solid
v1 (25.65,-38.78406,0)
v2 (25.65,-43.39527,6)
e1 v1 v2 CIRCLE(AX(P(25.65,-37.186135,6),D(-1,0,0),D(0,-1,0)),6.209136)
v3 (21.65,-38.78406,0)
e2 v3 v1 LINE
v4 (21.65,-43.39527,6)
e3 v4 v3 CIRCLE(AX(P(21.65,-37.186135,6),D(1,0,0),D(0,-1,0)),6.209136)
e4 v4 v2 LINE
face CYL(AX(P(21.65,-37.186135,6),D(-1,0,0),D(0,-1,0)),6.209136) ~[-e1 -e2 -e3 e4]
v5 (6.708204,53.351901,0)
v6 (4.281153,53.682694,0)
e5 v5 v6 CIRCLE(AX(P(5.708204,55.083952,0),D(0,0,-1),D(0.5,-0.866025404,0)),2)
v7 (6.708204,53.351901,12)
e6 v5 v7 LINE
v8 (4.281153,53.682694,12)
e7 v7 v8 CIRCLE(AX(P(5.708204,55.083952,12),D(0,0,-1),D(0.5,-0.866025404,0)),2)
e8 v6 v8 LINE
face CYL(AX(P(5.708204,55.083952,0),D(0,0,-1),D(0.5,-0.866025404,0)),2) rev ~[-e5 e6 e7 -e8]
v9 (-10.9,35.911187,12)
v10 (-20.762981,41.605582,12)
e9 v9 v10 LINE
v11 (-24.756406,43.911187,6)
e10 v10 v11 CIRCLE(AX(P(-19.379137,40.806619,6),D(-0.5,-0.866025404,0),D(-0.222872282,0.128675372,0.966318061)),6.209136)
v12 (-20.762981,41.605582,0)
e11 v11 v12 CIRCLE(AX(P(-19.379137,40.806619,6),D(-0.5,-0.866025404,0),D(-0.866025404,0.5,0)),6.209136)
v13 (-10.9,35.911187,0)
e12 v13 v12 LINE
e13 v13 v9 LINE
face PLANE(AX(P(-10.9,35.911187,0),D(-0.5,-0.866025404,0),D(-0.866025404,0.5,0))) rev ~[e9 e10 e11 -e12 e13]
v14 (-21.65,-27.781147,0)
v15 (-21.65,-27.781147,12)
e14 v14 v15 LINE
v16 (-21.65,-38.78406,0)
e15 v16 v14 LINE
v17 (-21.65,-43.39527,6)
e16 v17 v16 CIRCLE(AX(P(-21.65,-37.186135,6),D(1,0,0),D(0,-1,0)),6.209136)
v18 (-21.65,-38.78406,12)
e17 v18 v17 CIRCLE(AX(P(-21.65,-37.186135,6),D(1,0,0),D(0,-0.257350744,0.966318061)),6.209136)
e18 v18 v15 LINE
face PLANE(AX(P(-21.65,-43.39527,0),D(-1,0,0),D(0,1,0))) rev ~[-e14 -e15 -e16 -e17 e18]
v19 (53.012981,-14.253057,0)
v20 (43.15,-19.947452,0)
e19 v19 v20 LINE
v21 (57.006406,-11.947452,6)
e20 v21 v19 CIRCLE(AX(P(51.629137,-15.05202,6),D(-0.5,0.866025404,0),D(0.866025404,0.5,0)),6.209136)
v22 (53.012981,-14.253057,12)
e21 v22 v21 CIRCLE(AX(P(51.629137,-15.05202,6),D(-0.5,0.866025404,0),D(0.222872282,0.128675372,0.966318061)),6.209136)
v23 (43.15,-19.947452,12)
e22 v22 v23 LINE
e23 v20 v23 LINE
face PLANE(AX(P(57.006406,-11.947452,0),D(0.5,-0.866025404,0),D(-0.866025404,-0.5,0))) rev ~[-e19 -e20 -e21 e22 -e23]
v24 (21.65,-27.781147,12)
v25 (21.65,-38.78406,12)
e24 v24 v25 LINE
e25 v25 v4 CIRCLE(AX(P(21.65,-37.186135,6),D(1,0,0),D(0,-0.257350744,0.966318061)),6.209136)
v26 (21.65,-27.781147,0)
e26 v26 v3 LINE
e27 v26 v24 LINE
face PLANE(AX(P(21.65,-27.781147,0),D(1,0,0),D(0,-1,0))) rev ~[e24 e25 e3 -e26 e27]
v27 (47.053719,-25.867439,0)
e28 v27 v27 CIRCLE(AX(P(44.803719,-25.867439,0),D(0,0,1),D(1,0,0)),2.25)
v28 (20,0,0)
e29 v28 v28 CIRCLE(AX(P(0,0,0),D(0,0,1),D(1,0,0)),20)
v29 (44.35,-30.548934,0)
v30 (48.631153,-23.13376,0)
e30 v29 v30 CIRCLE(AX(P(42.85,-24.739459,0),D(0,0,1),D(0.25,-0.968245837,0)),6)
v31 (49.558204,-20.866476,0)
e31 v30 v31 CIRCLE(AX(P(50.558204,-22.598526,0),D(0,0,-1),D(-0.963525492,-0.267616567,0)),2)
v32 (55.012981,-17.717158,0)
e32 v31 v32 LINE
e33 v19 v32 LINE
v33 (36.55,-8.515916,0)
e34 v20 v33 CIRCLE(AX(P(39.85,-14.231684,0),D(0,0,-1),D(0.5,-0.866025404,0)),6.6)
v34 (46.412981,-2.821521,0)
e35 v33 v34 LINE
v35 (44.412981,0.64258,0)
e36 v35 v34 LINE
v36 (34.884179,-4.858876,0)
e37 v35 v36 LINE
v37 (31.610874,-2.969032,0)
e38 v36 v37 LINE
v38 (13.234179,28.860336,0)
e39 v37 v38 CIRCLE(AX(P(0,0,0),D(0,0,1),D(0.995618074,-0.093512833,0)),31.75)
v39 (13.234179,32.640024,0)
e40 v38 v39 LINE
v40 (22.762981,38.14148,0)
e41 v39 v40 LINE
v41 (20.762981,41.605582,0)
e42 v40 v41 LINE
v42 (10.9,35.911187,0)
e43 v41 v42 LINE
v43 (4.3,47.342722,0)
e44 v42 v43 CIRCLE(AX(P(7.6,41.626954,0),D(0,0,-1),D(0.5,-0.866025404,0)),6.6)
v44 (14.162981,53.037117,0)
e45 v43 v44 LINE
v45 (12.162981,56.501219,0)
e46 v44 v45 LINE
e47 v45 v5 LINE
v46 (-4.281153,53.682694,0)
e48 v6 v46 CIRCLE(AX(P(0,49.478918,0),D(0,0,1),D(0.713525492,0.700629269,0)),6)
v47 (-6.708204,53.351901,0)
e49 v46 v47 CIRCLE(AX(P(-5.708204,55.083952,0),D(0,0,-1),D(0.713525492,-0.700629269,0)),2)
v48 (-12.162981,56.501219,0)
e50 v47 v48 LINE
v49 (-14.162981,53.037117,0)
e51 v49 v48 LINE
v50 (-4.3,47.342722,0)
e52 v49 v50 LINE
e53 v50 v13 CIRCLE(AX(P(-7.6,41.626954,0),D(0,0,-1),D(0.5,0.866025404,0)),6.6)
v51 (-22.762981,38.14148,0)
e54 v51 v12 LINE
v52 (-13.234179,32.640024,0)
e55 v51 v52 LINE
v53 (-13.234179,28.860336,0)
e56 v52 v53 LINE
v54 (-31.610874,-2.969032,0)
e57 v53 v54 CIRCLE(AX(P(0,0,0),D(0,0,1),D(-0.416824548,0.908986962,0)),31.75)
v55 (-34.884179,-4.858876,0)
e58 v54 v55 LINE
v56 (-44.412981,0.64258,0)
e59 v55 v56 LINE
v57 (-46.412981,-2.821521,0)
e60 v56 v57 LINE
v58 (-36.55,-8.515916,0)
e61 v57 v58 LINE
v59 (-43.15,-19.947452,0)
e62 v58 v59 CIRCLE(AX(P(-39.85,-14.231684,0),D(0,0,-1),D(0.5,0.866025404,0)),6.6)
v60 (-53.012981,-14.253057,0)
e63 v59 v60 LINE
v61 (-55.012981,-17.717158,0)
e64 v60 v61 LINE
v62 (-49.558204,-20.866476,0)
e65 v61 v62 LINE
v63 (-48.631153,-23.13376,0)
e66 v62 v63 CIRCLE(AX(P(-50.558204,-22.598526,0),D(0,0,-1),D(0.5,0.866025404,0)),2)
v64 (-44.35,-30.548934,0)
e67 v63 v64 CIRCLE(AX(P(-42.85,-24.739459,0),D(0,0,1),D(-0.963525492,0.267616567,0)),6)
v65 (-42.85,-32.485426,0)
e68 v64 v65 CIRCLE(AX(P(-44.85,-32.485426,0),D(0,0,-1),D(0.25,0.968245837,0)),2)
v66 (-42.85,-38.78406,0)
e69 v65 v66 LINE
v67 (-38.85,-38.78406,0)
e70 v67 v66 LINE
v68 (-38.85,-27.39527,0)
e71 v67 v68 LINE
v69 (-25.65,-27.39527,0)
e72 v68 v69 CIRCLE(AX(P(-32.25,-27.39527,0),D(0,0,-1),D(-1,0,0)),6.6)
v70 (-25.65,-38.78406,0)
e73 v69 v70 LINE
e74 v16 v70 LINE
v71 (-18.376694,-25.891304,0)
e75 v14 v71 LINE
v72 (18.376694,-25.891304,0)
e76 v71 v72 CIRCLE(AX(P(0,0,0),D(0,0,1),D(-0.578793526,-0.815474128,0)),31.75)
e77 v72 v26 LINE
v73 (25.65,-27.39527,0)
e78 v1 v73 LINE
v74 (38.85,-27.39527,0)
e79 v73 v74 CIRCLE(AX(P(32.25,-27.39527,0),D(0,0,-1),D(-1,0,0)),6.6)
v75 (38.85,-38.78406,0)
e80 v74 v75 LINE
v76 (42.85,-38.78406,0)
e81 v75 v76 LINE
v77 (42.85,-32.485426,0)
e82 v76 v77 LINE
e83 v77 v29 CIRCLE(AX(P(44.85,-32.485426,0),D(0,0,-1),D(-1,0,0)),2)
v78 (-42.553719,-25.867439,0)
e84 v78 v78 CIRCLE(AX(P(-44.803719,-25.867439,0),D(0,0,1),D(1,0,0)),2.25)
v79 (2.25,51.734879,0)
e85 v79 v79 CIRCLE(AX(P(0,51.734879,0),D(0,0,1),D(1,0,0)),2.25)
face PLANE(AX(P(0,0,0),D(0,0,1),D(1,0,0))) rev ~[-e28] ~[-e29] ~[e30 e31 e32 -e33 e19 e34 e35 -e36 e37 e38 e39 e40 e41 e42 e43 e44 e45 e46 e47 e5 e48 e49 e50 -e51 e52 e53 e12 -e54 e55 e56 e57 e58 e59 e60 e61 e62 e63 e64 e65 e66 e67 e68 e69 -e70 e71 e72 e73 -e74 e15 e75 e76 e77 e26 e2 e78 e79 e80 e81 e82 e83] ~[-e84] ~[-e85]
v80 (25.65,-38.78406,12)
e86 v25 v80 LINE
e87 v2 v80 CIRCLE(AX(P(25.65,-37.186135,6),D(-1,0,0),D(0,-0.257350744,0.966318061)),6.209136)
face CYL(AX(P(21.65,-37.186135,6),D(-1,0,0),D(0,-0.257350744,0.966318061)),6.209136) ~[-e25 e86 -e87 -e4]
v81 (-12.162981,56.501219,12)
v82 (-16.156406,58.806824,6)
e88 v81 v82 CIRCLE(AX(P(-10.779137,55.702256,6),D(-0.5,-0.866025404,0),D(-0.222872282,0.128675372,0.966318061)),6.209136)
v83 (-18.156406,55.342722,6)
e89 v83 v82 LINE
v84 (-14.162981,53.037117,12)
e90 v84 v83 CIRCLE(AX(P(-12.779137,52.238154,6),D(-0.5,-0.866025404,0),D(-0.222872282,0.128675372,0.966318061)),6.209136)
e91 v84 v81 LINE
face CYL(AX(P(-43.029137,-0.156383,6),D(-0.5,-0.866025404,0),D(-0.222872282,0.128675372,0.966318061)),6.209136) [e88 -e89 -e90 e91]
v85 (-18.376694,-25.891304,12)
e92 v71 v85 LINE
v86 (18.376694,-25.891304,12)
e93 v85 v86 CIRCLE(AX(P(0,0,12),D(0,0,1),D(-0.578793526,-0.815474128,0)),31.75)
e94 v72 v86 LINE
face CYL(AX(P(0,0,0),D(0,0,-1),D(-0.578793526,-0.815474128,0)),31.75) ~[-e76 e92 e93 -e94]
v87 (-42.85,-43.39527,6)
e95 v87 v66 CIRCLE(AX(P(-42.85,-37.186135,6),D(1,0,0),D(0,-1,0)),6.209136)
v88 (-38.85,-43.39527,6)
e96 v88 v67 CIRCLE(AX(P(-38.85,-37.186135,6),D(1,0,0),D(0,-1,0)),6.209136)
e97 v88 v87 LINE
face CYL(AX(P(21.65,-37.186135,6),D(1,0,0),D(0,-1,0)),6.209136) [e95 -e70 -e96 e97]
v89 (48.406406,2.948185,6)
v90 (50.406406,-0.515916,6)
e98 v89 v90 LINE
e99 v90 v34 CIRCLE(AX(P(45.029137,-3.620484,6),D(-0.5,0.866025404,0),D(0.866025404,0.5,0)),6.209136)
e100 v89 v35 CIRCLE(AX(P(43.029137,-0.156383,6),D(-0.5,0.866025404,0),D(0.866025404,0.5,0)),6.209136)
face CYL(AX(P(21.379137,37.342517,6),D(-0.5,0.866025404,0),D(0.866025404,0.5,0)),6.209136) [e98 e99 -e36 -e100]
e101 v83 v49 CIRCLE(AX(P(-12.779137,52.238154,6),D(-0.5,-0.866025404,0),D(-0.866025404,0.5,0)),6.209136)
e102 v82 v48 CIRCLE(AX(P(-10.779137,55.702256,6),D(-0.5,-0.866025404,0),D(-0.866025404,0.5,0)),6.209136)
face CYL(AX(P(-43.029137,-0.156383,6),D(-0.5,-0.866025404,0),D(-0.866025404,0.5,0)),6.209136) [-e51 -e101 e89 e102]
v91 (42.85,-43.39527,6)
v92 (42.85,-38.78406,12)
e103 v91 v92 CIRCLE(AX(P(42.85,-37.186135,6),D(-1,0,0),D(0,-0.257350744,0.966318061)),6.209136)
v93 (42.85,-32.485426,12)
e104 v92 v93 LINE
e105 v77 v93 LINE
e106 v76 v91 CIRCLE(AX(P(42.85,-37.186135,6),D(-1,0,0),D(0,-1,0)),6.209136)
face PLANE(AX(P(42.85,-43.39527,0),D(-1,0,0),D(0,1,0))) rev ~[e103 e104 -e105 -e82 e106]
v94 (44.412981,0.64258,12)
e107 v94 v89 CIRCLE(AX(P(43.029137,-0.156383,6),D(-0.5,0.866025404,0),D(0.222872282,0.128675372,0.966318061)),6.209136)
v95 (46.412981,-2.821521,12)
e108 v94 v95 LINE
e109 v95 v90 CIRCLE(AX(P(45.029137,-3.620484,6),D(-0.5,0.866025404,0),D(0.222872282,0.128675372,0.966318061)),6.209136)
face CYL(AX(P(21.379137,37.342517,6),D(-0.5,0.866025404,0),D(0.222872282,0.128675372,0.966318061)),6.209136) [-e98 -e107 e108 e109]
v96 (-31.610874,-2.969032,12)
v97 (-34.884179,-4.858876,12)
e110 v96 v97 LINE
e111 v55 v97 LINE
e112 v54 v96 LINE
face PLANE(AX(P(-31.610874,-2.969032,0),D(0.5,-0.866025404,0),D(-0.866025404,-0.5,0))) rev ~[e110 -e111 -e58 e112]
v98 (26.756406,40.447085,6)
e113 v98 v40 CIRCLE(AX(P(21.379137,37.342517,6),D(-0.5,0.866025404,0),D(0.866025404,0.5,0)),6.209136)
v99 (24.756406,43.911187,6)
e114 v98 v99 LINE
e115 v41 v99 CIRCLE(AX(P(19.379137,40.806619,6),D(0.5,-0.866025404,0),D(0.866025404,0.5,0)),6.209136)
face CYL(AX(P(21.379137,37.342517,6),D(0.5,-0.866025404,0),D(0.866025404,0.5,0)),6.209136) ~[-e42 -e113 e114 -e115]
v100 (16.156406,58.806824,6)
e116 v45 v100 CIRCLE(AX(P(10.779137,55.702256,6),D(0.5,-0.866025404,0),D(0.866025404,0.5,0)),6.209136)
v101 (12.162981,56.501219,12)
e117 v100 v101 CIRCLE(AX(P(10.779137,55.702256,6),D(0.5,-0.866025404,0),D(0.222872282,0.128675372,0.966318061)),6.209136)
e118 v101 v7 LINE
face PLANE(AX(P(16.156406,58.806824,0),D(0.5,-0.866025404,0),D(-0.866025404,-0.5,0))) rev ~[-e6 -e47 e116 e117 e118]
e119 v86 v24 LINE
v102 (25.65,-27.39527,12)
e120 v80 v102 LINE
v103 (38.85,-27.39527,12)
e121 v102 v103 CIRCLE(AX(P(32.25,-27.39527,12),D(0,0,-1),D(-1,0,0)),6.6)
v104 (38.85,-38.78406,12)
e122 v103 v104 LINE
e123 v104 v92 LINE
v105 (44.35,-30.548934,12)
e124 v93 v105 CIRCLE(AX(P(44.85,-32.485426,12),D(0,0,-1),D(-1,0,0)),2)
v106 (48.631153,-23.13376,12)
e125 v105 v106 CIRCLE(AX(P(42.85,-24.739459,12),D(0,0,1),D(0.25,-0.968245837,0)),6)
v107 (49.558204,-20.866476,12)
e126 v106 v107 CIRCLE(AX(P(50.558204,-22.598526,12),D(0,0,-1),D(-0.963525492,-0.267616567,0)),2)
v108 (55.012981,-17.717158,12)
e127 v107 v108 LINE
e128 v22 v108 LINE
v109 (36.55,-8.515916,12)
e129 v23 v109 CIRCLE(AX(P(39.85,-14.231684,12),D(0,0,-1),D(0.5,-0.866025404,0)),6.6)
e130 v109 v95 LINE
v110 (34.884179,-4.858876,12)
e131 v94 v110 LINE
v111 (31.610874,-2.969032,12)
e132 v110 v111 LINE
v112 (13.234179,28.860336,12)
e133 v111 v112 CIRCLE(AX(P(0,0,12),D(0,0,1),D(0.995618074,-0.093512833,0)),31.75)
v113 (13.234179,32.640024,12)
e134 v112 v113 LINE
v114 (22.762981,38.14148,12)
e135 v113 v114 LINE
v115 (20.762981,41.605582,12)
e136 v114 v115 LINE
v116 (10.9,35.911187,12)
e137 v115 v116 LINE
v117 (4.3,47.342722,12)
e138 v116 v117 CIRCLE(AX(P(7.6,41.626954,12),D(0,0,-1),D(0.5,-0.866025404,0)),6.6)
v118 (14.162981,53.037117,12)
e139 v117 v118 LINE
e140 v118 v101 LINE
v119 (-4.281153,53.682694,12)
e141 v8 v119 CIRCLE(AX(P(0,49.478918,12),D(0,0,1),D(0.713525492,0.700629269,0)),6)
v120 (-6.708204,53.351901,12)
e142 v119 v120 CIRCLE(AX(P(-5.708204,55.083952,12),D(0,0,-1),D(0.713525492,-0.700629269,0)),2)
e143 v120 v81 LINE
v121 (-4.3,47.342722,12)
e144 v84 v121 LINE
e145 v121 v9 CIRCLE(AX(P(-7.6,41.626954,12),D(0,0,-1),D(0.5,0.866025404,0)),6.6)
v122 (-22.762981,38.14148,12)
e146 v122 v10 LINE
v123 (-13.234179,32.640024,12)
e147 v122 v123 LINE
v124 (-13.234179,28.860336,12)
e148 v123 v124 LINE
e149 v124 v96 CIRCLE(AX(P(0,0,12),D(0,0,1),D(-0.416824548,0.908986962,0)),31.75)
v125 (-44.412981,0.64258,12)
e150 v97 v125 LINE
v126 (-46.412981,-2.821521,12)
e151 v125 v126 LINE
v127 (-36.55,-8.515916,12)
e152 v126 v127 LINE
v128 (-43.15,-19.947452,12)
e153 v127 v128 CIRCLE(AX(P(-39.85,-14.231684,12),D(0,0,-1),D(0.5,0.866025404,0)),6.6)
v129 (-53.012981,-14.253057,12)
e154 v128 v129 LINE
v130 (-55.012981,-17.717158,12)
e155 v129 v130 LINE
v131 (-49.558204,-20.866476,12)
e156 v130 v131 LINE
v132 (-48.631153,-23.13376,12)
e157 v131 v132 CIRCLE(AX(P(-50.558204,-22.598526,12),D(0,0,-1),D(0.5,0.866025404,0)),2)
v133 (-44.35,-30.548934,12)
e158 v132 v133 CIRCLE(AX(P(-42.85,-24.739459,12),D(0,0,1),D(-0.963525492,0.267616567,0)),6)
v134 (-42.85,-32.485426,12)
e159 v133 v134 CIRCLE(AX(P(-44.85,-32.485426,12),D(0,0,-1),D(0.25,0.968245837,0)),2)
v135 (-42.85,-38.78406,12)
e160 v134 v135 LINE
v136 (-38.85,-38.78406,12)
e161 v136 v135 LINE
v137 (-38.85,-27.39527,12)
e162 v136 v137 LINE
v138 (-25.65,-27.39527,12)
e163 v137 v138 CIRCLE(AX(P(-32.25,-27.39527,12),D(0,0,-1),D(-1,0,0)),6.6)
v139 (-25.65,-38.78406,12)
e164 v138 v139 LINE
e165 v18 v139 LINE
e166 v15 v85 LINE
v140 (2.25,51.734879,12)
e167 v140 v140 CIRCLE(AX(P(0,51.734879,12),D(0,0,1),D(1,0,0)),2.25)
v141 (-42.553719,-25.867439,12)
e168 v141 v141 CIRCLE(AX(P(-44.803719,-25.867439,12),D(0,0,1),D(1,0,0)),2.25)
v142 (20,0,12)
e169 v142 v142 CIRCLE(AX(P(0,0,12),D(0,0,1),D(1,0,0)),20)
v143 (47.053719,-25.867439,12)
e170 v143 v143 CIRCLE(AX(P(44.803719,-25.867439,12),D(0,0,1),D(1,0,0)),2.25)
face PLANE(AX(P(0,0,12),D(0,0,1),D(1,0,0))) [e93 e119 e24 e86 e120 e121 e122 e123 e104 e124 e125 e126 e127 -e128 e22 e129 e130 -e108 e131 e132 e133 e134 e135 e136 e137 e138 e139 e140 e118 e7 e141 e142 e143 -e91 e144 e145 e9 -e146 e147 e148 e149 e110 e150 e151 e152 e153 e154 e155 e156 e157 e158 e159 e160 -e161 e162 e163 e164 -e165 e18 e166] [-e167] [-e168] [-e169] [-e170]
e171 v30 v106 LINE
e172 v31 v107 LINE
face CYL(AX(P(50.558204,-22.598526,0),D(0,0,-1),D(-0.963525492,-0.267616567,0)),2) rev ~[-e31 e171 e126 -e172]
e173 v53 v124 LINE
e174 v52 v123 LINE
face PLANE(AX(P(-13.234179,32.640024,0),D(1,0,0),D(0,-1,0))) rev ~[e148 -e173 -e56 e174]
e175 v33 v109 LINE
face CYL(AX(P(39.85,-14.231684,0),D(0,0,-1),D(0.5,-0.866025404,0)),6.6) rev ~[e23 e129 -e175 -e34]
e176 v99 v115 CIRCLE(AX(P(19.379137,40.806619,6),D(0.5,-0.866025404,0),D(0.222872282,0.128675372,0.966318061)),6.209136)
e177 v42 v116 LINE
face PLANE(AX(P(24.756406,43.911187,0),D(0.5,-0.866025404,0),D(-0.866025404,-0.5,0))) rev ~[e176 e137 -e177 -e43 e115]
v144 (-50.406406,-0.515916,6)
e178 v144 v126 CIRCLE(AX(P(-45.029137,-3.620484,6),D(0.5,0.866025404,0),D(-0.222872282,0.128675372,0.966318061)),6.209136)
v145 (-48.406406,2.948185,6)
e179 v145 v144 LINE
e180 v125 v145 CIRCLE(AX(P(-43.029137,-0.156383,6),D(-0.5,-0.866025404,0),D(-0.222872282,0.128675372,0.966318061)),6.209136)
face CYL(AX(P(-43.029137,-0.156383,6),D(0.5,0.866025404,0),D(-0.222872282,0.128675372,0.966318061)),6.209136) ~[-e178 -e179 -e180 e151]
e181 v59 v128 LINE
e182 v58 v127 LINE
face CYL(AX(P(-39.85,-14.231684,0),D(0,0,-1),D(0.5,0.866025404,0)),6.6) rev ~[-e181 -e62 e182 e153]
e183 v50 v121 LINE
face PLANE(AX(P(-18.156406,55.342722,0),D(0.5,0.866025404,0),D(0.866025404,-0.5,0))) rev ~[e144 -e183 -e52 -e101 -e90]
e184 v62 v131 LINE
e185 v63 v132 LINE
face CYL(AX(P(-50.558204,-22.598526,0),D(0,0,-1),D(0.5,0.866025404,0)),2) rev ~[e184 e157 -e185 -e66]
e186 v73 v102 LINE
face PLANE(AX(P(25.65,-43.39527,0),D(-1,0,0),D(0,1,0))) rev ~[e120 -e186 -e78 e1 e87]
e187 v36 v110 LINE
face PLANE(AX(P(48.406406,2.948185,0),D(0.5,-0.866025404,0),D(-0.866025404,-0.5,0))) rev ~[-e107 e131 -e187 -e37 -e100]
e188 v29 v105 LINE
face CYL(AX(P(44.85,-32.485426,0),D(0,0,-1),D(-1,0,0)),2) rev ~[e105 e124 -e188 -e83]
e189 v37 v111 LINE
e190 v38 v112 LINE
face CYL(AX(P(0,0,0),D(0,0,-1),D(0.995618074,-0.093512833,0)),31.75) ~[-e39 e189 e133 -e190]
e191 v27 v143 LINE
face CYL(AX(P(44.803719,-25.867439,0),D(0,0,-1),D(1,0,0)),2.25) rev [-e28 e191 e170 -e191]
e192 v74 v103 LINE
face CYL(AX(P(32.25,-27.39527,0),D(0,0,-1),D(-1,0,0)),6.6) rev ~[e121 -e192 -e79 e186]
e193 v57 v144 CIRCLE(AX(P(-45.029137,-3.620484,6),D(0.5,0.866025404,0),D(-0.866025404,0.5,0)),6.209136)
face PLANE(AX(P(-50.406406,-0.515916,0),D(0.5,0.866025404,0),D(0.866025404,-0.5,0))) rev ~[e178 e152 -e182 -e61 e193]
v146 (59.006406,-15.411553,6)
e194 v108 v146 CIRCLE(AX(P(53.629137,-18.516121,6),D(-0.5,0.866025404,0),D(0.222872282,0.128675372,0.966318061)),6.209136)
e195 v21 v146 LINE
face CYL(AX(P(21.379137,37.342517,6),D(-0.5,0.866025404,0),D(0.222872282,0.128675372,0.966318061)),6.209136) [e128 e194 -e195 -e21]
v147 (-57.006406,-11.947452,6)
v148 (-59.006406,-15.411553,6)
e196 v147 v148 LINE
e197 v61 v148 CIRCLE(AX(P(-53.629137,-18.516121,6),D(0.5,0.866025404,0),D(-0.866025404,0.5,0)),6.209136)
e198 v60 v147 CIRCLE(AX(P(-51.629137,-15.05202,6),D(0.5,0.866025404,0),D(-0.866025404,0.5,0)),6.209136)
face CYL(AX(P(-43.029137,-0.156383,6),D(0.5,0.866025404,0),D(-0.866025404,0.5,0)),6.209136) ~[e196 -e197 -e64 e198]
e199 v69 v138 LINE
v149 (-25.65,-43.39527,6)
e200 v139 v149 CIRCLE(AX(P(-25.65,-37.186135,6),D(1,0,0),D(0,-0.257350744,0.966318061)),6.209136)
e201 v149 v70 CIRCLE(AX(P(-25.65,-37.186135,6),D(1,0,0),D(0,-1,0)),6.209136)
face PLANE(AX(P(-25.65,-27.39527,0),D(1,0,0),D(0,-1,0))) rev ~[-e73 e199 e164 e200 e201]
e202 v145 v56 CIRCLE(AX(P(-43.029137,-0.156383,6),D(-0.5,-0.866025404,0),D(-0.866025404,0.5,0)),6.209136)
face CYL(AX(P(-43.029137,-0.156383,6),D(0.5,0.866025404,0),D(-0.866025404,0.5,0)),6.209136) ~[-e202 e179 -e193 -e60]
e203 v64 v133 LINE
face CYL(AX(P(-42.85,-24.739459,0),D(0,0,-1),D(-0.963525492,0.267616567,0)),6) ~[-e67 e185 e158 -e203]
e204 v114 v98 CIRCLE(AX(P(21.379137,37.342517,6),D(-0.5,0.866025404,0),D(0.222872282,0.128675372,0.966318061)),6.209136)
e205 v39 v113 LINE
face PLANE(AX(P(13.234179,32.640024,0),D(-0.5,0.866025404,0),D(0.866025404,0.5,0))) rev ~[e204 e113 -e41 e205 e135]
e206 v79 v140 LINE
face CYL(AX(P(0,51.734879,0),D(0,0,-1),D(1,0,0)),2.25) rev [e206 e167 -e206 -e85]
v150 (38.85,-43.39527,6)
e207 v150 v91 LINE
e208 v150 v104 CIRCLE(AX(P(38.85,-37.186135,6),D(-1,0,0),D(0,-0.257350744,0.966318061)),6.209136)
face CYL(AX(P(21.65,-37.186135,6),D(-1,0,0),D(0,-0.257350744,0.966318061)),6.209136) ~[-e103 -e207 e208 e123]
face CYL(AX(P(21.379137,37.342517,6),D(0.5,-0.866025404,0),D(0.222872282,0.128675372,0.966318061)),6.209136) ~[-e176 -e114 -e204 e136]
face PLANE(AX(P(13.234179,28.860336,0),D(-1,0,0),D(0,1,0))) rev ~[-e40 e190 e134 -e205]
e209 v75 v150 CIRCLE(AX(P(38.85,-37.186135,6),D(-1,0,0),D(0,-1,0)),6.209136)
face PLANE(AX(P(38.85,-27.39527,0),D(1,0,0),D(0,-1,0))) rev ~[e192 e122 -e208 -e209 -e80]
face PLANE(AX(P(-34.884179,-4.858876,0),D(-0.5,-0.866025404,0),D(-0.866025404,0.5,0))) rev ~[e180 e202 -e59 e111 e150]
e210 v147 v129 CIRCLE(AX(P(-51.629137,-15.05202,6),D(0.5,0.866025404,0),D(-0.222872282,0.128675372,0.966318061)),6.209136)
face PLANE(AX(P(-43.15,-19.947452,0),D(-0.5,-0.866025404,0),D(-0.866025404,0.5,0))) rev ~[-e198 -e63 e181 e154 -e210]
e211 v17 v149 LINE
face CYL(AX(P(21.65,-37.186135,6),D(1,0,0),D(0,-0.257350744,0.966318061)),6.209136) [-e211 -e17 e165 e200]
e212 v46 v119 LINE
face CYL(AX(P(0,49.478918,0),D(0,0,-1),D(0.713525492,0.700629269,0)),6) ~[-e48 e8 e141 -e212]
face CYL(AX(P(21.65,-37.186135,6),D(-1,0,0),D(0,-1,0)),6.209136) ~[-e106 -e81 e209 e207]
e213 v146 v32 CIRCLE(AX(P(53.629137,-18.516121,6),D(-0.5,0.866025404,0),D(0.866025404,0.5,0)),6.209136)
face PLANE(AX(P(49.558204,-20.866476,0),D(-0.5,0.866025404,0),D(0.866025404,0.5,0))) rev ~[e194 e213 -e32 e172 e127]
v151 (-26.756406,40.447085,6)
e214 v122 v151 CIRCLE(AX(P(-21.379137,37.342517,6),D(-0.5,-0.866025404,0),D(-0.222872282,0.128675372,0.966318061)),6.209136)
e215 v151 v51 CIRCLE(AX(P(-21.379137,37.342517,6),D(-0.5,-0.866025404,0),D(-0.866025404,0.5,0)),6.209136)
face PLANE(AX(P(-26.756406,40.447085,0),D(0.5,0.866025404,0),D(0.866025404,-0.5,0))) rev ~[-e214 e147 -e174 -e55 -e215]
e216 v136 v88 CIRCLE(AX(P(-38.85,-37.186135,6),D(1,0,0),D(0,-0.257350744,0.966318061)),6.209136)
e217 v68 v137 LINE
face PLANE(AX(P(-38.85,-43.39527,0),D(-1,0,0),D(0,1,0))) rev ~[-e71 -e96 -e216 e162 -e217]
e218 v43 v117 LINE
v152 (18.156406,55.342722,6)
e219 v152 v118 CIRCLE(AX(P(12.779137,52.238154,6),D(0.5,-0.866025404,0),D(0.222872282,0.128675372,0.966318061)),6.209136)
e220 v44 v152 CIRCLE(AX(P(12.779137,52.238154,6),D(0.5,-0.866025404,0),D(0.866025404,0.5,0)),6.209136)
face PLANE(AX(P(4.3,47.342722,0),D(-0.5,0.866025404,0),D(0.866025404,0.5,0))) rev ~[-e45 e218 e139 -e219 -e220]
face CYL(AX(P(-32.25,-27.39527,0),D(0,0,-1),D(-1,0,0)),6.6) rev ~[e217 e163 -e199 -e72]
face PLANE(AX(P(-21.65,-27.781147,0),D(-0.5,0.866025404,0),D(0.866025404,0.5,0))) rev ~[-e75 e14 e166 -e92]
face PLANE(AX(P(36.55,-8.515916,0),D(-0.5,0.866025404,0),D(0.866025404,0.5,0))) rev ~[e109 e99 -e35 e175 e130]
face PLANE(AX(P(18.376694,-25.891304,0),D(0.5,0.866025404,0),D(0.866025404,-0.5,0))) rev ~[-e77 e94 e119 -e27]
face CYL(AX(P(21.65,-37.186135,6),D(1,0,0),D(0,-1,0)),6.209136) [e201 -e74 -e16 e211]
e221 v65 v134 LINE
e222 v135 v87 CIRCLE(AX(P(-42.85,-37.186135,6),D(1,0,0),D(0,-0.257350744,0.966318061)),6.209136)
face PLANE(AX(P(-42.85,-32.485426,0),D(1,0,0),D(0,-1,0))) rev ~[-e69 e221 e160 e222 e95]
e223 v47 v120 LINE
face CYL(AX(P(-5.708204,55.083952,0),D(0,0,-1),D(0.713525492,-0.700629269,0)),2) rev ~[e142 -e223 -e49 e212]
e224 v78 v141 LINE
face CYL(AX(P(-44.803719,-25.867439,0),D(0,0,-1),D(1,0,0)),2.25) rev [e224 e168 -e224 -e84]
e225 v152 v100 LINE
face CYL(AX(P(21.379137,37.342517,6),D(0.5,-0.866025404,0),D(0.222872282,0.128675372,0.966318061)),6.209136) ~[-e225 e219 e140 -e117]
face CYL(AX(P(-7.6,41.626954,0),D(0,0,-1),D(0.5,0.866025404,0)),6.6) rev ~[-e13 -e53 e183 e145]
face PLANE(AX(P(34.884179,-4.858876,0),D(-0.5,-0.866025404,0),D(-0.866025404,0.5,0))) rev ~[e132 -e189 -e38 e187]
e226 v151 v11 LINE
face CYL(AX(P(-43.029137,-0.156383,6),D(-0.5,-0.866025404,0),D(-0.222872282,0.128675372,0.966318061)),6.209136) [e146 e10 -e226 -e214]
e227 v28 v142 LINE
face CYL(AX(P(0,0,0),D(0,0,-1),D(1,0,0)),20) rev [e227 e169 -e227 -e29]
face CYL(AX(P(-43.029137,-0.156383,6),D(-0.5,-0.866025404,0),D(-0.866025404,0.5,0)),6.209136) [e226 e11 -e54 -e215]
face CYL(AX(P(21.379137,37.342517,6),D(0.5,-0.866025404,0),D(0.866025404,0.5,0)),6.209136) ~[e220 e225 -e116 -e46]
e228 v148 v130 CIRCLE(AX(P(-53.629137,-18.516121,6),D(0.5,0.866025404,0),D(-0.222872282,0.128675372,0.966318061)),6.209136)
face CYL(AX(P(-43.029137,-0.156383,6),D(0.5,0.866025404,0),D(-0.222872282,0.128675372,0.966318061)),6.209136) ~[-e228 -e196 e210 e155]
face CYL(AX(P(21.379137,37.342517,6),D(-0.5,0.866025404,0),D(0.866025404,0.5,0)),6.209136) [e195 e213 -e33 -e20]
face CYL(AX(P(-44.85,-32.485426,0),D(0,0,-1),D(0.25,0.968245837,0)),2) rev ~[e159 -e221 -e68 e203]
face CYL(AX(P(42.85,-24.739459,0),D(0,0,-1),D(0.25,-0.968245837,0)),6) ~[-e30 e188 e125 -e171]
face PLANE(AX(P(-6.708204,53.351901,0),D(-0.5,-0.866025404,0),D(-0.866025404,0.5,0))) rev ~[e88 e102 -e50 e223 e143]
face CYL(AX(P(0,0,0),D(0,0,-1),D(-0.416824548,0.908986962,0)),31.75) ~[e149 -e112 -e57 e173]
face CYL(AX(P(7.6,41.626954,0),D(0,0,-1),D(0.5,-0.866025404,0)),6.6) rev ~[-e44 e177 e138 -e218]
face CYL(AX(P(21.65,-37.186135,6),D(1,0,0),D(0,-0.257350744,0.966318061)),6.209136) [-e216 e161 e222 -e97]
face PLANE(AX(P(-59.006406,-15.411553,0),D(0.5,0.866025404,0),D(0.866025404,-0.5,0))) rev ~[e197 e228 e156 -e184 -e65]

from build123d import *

# Parameters (mm, degrees)
F0_R          = 2.25
F0_R_2        = 20
F1_DEPTH      = 12
F5_DEPTH      = 25
F5_DEPTH_BACK = 68
F6_DEPTH      = 25
F6_DEPTH_BACK = 68
F7_DEPTH      = 25
F7_DEPTH_BACK = 68


with BuildPart() as f1:
    # F0 (on Top) → F1 (new body)
    with BuildSketch(Plane.XY):
        with BuildLine():
            Line((-13.2341793977, 32.6400236937), (-13.2341793977, 28.8603360284))
            ThreePointArc((-13.2341793977, 28.8603360284), (-27.4963065702, 15.875), (-31.6108738612, -2.9690324575))
            Line((-31.6108738612, -2.9690324575), (-34.8841793977, -4.8588762902))
            Line((-34.8841793977, -4.8588762902), (-48.4064064606, 2.9481851446))
            Line((-48.4064064606, 2.9481851446), (-50.4064064606, -0.5159164705))
            Line((-50.4064064606, -0.5159164705), (-36.55, -8.5159164705))
            ThreePointArc((-36.55, -8.5159164705), (-34.134232335, -17.5316841355), (-43.15, -19.9474518005))
            Line((-43.15, -19.9474518005), (-57.0064064606, -11.9474518005))
            Line((-57.0064064606, -11.9474518005), (-59.0064064606, -15.4115534156))
            Line((-59.0064064606, -15.4115534156), (-49.5582039325, -20.8664756886))
            ThreePointArc((-49.5582039325, -20.8664756886), (-48.7069743457, -21.8415925381), (-48.6311529494, -23.1337596308))
            ThreePointArc((-48.6311529494, -23.1337596308), (-48.0461524227, -27.7394590348), (-44.35, -30.5489340541))
            ThreePointArc((-44.35, -30.5489340541), (-43.2688611699, -31.2606808558), (-42.85, -32.4854257272))
            Line((-42.85, -32.4854257272), (-42.85, -43.395270273))
            Line((-42.85, -43.395270273), (-38.85, -43.395270273))
            Line((-38.85, -43.395270273), (-38.85, -27.395270273))
            ThreePointArc((-38.85, -27.395270273), (-32.25, -20.795270273), (-25.65, -27.395270273))
            Line((-25.65, -27.395270273), (-25.65, -43.395270273))
            Line((-25.65, -43.395270273), (-21.65, -43.395270273))
            Line((-21.65, -43.395270273), (-21.65, -27.7811474035))
            Line((-21.65, -27.7811474035), (-18.3766944635, -25.8913035708))
            ThreePointArc((-18.3766944635, -25.8913035708), (0, -31.75), (18.3766944635, -25.8913035708))
            Line((18.3766944635, -25.8913035708), (21.65, -27.7811474035))
            Line((21.65, -27.7811474035), (21.65, -43.395270273))
            Line((21.65, -43.395270273), (25.65, -43.395270273))
            Line((25.65, -43.395270273), (25.65, -27.395270273))
            ThreePointArc((25.65, -27.395270273), (32.25, -20.795270273), (38.85, -27.395270273))
            Line((38.85, -27.395270273), (38.85, -43.395270273))
            Line((38.85, -43.395270273), (42.85, -43.395270273))
            Line((42.85, -43.395270273), (42.85, -32.4854257272))
            ThreePointArc((42.85, -32.4854257272), (43.2688611699, -31.2606808558), (44.35, -30.5489340541))
            ThreePointArc((44.35, -30.5489340541), (48.0461524227, -27.7394590348), (48.6311529494, -23.1337596308))
            ThreePointArc((48.6311529494, -23.1337596308), (48.7069743457, -21.8415925381), (49.5582039325, -20.8664756886))
            Line((49.5582039325, -20.8664756886), (59.0064064606, -15.4115534156))
            Line((59.0064064606, -15.4115534156), (57.0064064606, -11.9474518005))
            Line((57.0064064606, -11.9474518005), (43.15, -19.9474518005))
            ThreePointArc((43.15, -19.9474518005), (34.134232335, -17.5316841355), (36.55, -8.5159164705))
            Line((36.55, -8.5159164705), (50.4064064606, -0.5159164705))
            Line((50.4064064606, -0.5159164705), (48.4064064606, 2.9481851446))
            Line((48.4064064606, 2.9481851446), (34.8841793977, -4.8588762902))
            Line((34.8841793977, -4.8588762902), (31.6108738612, -2.9690324575))
            ThreePointArc((31.6108738612, -2.9690324575), (27.4963065702, 15.875), (13.2341793977, 28.8603360284))
            Line((13.2341793977, 28.8603360284), (13.2341793977, 32.6400236937))
            Line((13.2341793977, 32.6400236937), (26.7564064606, 40.4470851285))
            Line((26.7564064606, 40.4470851285), (24.7564064606, 43.9111867436))
            Line((24.7564064606, 43.9111867436), (10.9, 35.9111867436))
            ThreePointArc((10.9, 35.9111867436), (1.884232335, 38.3269544086), (4.3, 47.3427220735))
            Line((4.3, 47.3427220735), (18.1564064606, 55.3427220735))
            Line((18.1564064606, 55.3427220735), (16.1564064606, 58.8068236887))
            Line((16.1564064606, 58.8068236887), (6.7082039325, 53.3519014158))
            ThreePointArc((6.7082039325, 53.3519014158), (5.4381131758, 53.1022733939), (4.2811529494, 53.6826936849))
            ThreePointArc((4.2811529494, 53.6826936849), (0, 55.4789180696), (-4.2811529494, 53.6826936849))
            ThreePointArc((-4.2811529494, 53.6826936849), (-5.4381131758, 53.1022733939), (-6.7082039325, 53.3519014158))
            Line((-6.7082039325, 53.3519014158), (-16.1564064606, 58.8068236887))
            Line((-16.1564064606, 58.8068236887), (-18.1564064606, 55.3427220735))
            Line((-18.1564064606, 55.3427220735), (-4.3, 47.3427220735))
            ThreePointArc((-4.3, 47.3427220735), (-1.884232335, 38.3269544086), (-10.9, 35.9111867436))
            Line((-10.9, 35.9111867436), (-24.7564064606, 43.9111867436))
            Line((-24.7564064606, 43.9111867436), (-26.7564064606, 40.4470851285))
            Line((-26.7564064606, 40.4470851285), (-13.2341793977, 32.6400236937))
        make_face()
        with Locations((-44.8037193958, -25.8674394539)):
            Circle(F0_R, mode=Mode.SUBTRACT)
        with Locations((44.8037193958, -25.8674394539)):
            Circle(F0_R, mode=Mode.SUBTRACT)
        Circle(F0_R_2, mode=Mode.SUBTRACT)
        with Locations((0, 51.7348789078)):
            Circle(F0_R, mode=Mode.SUBTRACT)
    extrude(amount=F1_DEPTH)

    # F2 (on face) → F5 (cut, two sides)
    with BuildSketch(Plane(origin=(21.65, 0, 0), x_dir=(0, -1, 0), z_dir=(-1, 0, 0))) as f5_sk:
        with BuildLine():
            ThreePointArc((38.7840602421, 12), (42.1092993822, 9.7836245172), (43.395270273, 6))
            Line((43.395270273, 6), (43.395270273, 12))
            Line((43.395270273, 12), (38.7840602421, 12))
        make_face()
        with BuildLine():
            ThreePointArc((38.7840602421, 0), (38.0044089294, -0.1549812), (37.2113464037, -0.2090845469))
            Line((37.2113464037, -0.2090845469), (37.2113464037, -2.7538968716))
            Line((37.2113464037, -2.7538968716), (50.0447638333, -2.7538968716))
            Line((50.0447638333, -2.7538968716), (50.0447638333, 14.7538968716))
            Line((50.0447638333, 14.7538968716), (37.2113464037, 14.7538968716))
            Line((37.2113464037, 14.7538968716), (37.2113464037, 12.2090845469))
            ThreePointArc((37.2113464037, 12.2090845469), (38.0044089294, 12.1549812), (38.7840602421, 12))
            Line((38.7840602421, 12), (43.395270273, 12))
            Line((43.395270273, 12), (43.395270273, 6))
            Line((43.395270273, 6), (43.395270273, 0))
            Line((43.395270273, 0), (38.7840602421, 0))
        make_face()
        with BuildLine():
            ThreePointArc((43.395270273, 6), (42.1092993822, 2.2163754828), (38.7840602421, 0))
            Line((38.7840602421, 0), (43.395270273, 0))
            Line((43.395270273, 0), (43.395270273, 6))
        make_face()
    extrude(amount=-F5_DEPTH, mode=Mode.SUBTRACT)
    extrude(f5_sk.sketch, amount=F5_DEPTH_BACK, mode=Mode.SUBTRACT)

    # F3 (on face) → F6 (cut, two sides)
    with BuildSketch(Plane(origin=(-10.825, 18.7494499919, 0), x_dir=(0.8660254038, 0.5, 0), z_dir=(0.5, -0.8660254038, 0))) as f6_sk:
        with BuildLine():
            ThreePointArc((38.7840602421, 0), (38.0044089294, -0.1549812), (37.2113464037, -0.2090845469))
            Line((37.2113464037, -0.2090845469), (37.2113464037, -2.7538968716))
            Line((37.2113464037, -2.7538968716), (50.0447638333, -2.7538968716))
            Line((50.0447638333, -2.7538968716), (50.0447638333, 14.7538968716))
            Line((50.0447638333, 14.7538968716), (37.2113464037, 14.7538968716))
            Line((37.2113464037, 14.7538968716), (37.2113464037, 12.2090845469))
            ThreePointArc((37.2113464037, 12.2090845469), (38.0044089294, 12.1549812), (38.7840602421, 12))
            Line((38.7840602421, 12), (43.395270273, 12))
            Line((43.395270273, 12), (43.395270273, 6))
            Line((43.395270273, 6), (43.395270273, 0))
            Line((43.395270273, 0), (38.7840602421, 0))
        make_face()
        with BuildLine():
            ThreePointArc((38.7840602421, 12), (42.1092993822, 9.7836245172), (43.395270273, 6))
            Line((43.395270273, 6), (43.395270273, 12))
            Line((43.395270273, 12), (38.7840602421, 12))
        make_face()
        with BuildLine():
            ThreePointArc((43.395270273, 6), (42.1092993822, 2.2163754828), (38.7840602421, 0))
            Line((38.7840602421, 0), (43.395270273, 0))
            Line((43.395270273, 0), (43.395270273, 6))
        make_face()
    extrude(amount=-F6_DEPTH, mode=Mode.SUBTRACT)
    extrude(f6_sk.sketch, amount=F6_DEPTH_BACK, mode=Mode.SUBTRACT)

    # F4 (on face) → F7 (cut, two sides)
    with BuildSketch(Plane(origin=(-10.825, -18.7494499919, 0), x_dir=(-0.8660254038, 0.5, 0), z_dir=(0.5, 0.8660254038, 0))) as f7_sk:
        with BuildLine():
            ThreePointArc((38.7840602421, 0), (38.0044089294, -0.1549812), (37.2113464037, -0.2090845469))
            Line((37.2113464037, -0.2090845469), (37.2113464037, -2.7538968716))
            Line((37.2113464037, -2.7538968716), (50.0447638333, -2.7538968716))
            Line((50.0447638333, -2.7538968716), (50.0447638333, 14.7538968716))
            Line((50.0447638333, 14.7538968716), (37.2113464037, 14.7538968716))
            Line((37.2113464037, 14.7538968716), (37.2113464037, 12.2090845469))
            ThreePointArc((37.2113464037, 12.2090845469), (38.0044089294, 12.1549812), (38.7840602421, 12))
            Line((38.7840602421, 12), (43.395270273, 12))
            Line((43.395270273, 12), (43.395270273, 6))
            Line((43.395270273, 6), (43.395270273, 0))
            Line((43.395270273, 0), (38.7840602421, 0))
        make_face()
        with BuildLine():
            ThreePointArc((43.395270273, 6), (42.1092993822, 2.2163754828), (38.7840602421, 0))
            Line((38.7840602421, 0), (43.395270273, 0))
            Line((43.395270273, 0), (43.395270273, 6))
        make_face()
        with BuildLine():
            ThreePointArc((38.7840602421, 12), (42.1092993822, 9.7836245172), (43.395270273, 6))
            Line((43.395270273, 6), (43.395270273, 12))
            Line((43.395270273, 12), (38.7840602421, 12))
        make_face()
    extrude(amount=-F7_DEPTH, mode=Mode.SUBTRACT)
    extrude(f7_sk.sketch, amount=F7_DEPTH_BACK, mode=Mode.SUBTRACT)


solid = f1.part
